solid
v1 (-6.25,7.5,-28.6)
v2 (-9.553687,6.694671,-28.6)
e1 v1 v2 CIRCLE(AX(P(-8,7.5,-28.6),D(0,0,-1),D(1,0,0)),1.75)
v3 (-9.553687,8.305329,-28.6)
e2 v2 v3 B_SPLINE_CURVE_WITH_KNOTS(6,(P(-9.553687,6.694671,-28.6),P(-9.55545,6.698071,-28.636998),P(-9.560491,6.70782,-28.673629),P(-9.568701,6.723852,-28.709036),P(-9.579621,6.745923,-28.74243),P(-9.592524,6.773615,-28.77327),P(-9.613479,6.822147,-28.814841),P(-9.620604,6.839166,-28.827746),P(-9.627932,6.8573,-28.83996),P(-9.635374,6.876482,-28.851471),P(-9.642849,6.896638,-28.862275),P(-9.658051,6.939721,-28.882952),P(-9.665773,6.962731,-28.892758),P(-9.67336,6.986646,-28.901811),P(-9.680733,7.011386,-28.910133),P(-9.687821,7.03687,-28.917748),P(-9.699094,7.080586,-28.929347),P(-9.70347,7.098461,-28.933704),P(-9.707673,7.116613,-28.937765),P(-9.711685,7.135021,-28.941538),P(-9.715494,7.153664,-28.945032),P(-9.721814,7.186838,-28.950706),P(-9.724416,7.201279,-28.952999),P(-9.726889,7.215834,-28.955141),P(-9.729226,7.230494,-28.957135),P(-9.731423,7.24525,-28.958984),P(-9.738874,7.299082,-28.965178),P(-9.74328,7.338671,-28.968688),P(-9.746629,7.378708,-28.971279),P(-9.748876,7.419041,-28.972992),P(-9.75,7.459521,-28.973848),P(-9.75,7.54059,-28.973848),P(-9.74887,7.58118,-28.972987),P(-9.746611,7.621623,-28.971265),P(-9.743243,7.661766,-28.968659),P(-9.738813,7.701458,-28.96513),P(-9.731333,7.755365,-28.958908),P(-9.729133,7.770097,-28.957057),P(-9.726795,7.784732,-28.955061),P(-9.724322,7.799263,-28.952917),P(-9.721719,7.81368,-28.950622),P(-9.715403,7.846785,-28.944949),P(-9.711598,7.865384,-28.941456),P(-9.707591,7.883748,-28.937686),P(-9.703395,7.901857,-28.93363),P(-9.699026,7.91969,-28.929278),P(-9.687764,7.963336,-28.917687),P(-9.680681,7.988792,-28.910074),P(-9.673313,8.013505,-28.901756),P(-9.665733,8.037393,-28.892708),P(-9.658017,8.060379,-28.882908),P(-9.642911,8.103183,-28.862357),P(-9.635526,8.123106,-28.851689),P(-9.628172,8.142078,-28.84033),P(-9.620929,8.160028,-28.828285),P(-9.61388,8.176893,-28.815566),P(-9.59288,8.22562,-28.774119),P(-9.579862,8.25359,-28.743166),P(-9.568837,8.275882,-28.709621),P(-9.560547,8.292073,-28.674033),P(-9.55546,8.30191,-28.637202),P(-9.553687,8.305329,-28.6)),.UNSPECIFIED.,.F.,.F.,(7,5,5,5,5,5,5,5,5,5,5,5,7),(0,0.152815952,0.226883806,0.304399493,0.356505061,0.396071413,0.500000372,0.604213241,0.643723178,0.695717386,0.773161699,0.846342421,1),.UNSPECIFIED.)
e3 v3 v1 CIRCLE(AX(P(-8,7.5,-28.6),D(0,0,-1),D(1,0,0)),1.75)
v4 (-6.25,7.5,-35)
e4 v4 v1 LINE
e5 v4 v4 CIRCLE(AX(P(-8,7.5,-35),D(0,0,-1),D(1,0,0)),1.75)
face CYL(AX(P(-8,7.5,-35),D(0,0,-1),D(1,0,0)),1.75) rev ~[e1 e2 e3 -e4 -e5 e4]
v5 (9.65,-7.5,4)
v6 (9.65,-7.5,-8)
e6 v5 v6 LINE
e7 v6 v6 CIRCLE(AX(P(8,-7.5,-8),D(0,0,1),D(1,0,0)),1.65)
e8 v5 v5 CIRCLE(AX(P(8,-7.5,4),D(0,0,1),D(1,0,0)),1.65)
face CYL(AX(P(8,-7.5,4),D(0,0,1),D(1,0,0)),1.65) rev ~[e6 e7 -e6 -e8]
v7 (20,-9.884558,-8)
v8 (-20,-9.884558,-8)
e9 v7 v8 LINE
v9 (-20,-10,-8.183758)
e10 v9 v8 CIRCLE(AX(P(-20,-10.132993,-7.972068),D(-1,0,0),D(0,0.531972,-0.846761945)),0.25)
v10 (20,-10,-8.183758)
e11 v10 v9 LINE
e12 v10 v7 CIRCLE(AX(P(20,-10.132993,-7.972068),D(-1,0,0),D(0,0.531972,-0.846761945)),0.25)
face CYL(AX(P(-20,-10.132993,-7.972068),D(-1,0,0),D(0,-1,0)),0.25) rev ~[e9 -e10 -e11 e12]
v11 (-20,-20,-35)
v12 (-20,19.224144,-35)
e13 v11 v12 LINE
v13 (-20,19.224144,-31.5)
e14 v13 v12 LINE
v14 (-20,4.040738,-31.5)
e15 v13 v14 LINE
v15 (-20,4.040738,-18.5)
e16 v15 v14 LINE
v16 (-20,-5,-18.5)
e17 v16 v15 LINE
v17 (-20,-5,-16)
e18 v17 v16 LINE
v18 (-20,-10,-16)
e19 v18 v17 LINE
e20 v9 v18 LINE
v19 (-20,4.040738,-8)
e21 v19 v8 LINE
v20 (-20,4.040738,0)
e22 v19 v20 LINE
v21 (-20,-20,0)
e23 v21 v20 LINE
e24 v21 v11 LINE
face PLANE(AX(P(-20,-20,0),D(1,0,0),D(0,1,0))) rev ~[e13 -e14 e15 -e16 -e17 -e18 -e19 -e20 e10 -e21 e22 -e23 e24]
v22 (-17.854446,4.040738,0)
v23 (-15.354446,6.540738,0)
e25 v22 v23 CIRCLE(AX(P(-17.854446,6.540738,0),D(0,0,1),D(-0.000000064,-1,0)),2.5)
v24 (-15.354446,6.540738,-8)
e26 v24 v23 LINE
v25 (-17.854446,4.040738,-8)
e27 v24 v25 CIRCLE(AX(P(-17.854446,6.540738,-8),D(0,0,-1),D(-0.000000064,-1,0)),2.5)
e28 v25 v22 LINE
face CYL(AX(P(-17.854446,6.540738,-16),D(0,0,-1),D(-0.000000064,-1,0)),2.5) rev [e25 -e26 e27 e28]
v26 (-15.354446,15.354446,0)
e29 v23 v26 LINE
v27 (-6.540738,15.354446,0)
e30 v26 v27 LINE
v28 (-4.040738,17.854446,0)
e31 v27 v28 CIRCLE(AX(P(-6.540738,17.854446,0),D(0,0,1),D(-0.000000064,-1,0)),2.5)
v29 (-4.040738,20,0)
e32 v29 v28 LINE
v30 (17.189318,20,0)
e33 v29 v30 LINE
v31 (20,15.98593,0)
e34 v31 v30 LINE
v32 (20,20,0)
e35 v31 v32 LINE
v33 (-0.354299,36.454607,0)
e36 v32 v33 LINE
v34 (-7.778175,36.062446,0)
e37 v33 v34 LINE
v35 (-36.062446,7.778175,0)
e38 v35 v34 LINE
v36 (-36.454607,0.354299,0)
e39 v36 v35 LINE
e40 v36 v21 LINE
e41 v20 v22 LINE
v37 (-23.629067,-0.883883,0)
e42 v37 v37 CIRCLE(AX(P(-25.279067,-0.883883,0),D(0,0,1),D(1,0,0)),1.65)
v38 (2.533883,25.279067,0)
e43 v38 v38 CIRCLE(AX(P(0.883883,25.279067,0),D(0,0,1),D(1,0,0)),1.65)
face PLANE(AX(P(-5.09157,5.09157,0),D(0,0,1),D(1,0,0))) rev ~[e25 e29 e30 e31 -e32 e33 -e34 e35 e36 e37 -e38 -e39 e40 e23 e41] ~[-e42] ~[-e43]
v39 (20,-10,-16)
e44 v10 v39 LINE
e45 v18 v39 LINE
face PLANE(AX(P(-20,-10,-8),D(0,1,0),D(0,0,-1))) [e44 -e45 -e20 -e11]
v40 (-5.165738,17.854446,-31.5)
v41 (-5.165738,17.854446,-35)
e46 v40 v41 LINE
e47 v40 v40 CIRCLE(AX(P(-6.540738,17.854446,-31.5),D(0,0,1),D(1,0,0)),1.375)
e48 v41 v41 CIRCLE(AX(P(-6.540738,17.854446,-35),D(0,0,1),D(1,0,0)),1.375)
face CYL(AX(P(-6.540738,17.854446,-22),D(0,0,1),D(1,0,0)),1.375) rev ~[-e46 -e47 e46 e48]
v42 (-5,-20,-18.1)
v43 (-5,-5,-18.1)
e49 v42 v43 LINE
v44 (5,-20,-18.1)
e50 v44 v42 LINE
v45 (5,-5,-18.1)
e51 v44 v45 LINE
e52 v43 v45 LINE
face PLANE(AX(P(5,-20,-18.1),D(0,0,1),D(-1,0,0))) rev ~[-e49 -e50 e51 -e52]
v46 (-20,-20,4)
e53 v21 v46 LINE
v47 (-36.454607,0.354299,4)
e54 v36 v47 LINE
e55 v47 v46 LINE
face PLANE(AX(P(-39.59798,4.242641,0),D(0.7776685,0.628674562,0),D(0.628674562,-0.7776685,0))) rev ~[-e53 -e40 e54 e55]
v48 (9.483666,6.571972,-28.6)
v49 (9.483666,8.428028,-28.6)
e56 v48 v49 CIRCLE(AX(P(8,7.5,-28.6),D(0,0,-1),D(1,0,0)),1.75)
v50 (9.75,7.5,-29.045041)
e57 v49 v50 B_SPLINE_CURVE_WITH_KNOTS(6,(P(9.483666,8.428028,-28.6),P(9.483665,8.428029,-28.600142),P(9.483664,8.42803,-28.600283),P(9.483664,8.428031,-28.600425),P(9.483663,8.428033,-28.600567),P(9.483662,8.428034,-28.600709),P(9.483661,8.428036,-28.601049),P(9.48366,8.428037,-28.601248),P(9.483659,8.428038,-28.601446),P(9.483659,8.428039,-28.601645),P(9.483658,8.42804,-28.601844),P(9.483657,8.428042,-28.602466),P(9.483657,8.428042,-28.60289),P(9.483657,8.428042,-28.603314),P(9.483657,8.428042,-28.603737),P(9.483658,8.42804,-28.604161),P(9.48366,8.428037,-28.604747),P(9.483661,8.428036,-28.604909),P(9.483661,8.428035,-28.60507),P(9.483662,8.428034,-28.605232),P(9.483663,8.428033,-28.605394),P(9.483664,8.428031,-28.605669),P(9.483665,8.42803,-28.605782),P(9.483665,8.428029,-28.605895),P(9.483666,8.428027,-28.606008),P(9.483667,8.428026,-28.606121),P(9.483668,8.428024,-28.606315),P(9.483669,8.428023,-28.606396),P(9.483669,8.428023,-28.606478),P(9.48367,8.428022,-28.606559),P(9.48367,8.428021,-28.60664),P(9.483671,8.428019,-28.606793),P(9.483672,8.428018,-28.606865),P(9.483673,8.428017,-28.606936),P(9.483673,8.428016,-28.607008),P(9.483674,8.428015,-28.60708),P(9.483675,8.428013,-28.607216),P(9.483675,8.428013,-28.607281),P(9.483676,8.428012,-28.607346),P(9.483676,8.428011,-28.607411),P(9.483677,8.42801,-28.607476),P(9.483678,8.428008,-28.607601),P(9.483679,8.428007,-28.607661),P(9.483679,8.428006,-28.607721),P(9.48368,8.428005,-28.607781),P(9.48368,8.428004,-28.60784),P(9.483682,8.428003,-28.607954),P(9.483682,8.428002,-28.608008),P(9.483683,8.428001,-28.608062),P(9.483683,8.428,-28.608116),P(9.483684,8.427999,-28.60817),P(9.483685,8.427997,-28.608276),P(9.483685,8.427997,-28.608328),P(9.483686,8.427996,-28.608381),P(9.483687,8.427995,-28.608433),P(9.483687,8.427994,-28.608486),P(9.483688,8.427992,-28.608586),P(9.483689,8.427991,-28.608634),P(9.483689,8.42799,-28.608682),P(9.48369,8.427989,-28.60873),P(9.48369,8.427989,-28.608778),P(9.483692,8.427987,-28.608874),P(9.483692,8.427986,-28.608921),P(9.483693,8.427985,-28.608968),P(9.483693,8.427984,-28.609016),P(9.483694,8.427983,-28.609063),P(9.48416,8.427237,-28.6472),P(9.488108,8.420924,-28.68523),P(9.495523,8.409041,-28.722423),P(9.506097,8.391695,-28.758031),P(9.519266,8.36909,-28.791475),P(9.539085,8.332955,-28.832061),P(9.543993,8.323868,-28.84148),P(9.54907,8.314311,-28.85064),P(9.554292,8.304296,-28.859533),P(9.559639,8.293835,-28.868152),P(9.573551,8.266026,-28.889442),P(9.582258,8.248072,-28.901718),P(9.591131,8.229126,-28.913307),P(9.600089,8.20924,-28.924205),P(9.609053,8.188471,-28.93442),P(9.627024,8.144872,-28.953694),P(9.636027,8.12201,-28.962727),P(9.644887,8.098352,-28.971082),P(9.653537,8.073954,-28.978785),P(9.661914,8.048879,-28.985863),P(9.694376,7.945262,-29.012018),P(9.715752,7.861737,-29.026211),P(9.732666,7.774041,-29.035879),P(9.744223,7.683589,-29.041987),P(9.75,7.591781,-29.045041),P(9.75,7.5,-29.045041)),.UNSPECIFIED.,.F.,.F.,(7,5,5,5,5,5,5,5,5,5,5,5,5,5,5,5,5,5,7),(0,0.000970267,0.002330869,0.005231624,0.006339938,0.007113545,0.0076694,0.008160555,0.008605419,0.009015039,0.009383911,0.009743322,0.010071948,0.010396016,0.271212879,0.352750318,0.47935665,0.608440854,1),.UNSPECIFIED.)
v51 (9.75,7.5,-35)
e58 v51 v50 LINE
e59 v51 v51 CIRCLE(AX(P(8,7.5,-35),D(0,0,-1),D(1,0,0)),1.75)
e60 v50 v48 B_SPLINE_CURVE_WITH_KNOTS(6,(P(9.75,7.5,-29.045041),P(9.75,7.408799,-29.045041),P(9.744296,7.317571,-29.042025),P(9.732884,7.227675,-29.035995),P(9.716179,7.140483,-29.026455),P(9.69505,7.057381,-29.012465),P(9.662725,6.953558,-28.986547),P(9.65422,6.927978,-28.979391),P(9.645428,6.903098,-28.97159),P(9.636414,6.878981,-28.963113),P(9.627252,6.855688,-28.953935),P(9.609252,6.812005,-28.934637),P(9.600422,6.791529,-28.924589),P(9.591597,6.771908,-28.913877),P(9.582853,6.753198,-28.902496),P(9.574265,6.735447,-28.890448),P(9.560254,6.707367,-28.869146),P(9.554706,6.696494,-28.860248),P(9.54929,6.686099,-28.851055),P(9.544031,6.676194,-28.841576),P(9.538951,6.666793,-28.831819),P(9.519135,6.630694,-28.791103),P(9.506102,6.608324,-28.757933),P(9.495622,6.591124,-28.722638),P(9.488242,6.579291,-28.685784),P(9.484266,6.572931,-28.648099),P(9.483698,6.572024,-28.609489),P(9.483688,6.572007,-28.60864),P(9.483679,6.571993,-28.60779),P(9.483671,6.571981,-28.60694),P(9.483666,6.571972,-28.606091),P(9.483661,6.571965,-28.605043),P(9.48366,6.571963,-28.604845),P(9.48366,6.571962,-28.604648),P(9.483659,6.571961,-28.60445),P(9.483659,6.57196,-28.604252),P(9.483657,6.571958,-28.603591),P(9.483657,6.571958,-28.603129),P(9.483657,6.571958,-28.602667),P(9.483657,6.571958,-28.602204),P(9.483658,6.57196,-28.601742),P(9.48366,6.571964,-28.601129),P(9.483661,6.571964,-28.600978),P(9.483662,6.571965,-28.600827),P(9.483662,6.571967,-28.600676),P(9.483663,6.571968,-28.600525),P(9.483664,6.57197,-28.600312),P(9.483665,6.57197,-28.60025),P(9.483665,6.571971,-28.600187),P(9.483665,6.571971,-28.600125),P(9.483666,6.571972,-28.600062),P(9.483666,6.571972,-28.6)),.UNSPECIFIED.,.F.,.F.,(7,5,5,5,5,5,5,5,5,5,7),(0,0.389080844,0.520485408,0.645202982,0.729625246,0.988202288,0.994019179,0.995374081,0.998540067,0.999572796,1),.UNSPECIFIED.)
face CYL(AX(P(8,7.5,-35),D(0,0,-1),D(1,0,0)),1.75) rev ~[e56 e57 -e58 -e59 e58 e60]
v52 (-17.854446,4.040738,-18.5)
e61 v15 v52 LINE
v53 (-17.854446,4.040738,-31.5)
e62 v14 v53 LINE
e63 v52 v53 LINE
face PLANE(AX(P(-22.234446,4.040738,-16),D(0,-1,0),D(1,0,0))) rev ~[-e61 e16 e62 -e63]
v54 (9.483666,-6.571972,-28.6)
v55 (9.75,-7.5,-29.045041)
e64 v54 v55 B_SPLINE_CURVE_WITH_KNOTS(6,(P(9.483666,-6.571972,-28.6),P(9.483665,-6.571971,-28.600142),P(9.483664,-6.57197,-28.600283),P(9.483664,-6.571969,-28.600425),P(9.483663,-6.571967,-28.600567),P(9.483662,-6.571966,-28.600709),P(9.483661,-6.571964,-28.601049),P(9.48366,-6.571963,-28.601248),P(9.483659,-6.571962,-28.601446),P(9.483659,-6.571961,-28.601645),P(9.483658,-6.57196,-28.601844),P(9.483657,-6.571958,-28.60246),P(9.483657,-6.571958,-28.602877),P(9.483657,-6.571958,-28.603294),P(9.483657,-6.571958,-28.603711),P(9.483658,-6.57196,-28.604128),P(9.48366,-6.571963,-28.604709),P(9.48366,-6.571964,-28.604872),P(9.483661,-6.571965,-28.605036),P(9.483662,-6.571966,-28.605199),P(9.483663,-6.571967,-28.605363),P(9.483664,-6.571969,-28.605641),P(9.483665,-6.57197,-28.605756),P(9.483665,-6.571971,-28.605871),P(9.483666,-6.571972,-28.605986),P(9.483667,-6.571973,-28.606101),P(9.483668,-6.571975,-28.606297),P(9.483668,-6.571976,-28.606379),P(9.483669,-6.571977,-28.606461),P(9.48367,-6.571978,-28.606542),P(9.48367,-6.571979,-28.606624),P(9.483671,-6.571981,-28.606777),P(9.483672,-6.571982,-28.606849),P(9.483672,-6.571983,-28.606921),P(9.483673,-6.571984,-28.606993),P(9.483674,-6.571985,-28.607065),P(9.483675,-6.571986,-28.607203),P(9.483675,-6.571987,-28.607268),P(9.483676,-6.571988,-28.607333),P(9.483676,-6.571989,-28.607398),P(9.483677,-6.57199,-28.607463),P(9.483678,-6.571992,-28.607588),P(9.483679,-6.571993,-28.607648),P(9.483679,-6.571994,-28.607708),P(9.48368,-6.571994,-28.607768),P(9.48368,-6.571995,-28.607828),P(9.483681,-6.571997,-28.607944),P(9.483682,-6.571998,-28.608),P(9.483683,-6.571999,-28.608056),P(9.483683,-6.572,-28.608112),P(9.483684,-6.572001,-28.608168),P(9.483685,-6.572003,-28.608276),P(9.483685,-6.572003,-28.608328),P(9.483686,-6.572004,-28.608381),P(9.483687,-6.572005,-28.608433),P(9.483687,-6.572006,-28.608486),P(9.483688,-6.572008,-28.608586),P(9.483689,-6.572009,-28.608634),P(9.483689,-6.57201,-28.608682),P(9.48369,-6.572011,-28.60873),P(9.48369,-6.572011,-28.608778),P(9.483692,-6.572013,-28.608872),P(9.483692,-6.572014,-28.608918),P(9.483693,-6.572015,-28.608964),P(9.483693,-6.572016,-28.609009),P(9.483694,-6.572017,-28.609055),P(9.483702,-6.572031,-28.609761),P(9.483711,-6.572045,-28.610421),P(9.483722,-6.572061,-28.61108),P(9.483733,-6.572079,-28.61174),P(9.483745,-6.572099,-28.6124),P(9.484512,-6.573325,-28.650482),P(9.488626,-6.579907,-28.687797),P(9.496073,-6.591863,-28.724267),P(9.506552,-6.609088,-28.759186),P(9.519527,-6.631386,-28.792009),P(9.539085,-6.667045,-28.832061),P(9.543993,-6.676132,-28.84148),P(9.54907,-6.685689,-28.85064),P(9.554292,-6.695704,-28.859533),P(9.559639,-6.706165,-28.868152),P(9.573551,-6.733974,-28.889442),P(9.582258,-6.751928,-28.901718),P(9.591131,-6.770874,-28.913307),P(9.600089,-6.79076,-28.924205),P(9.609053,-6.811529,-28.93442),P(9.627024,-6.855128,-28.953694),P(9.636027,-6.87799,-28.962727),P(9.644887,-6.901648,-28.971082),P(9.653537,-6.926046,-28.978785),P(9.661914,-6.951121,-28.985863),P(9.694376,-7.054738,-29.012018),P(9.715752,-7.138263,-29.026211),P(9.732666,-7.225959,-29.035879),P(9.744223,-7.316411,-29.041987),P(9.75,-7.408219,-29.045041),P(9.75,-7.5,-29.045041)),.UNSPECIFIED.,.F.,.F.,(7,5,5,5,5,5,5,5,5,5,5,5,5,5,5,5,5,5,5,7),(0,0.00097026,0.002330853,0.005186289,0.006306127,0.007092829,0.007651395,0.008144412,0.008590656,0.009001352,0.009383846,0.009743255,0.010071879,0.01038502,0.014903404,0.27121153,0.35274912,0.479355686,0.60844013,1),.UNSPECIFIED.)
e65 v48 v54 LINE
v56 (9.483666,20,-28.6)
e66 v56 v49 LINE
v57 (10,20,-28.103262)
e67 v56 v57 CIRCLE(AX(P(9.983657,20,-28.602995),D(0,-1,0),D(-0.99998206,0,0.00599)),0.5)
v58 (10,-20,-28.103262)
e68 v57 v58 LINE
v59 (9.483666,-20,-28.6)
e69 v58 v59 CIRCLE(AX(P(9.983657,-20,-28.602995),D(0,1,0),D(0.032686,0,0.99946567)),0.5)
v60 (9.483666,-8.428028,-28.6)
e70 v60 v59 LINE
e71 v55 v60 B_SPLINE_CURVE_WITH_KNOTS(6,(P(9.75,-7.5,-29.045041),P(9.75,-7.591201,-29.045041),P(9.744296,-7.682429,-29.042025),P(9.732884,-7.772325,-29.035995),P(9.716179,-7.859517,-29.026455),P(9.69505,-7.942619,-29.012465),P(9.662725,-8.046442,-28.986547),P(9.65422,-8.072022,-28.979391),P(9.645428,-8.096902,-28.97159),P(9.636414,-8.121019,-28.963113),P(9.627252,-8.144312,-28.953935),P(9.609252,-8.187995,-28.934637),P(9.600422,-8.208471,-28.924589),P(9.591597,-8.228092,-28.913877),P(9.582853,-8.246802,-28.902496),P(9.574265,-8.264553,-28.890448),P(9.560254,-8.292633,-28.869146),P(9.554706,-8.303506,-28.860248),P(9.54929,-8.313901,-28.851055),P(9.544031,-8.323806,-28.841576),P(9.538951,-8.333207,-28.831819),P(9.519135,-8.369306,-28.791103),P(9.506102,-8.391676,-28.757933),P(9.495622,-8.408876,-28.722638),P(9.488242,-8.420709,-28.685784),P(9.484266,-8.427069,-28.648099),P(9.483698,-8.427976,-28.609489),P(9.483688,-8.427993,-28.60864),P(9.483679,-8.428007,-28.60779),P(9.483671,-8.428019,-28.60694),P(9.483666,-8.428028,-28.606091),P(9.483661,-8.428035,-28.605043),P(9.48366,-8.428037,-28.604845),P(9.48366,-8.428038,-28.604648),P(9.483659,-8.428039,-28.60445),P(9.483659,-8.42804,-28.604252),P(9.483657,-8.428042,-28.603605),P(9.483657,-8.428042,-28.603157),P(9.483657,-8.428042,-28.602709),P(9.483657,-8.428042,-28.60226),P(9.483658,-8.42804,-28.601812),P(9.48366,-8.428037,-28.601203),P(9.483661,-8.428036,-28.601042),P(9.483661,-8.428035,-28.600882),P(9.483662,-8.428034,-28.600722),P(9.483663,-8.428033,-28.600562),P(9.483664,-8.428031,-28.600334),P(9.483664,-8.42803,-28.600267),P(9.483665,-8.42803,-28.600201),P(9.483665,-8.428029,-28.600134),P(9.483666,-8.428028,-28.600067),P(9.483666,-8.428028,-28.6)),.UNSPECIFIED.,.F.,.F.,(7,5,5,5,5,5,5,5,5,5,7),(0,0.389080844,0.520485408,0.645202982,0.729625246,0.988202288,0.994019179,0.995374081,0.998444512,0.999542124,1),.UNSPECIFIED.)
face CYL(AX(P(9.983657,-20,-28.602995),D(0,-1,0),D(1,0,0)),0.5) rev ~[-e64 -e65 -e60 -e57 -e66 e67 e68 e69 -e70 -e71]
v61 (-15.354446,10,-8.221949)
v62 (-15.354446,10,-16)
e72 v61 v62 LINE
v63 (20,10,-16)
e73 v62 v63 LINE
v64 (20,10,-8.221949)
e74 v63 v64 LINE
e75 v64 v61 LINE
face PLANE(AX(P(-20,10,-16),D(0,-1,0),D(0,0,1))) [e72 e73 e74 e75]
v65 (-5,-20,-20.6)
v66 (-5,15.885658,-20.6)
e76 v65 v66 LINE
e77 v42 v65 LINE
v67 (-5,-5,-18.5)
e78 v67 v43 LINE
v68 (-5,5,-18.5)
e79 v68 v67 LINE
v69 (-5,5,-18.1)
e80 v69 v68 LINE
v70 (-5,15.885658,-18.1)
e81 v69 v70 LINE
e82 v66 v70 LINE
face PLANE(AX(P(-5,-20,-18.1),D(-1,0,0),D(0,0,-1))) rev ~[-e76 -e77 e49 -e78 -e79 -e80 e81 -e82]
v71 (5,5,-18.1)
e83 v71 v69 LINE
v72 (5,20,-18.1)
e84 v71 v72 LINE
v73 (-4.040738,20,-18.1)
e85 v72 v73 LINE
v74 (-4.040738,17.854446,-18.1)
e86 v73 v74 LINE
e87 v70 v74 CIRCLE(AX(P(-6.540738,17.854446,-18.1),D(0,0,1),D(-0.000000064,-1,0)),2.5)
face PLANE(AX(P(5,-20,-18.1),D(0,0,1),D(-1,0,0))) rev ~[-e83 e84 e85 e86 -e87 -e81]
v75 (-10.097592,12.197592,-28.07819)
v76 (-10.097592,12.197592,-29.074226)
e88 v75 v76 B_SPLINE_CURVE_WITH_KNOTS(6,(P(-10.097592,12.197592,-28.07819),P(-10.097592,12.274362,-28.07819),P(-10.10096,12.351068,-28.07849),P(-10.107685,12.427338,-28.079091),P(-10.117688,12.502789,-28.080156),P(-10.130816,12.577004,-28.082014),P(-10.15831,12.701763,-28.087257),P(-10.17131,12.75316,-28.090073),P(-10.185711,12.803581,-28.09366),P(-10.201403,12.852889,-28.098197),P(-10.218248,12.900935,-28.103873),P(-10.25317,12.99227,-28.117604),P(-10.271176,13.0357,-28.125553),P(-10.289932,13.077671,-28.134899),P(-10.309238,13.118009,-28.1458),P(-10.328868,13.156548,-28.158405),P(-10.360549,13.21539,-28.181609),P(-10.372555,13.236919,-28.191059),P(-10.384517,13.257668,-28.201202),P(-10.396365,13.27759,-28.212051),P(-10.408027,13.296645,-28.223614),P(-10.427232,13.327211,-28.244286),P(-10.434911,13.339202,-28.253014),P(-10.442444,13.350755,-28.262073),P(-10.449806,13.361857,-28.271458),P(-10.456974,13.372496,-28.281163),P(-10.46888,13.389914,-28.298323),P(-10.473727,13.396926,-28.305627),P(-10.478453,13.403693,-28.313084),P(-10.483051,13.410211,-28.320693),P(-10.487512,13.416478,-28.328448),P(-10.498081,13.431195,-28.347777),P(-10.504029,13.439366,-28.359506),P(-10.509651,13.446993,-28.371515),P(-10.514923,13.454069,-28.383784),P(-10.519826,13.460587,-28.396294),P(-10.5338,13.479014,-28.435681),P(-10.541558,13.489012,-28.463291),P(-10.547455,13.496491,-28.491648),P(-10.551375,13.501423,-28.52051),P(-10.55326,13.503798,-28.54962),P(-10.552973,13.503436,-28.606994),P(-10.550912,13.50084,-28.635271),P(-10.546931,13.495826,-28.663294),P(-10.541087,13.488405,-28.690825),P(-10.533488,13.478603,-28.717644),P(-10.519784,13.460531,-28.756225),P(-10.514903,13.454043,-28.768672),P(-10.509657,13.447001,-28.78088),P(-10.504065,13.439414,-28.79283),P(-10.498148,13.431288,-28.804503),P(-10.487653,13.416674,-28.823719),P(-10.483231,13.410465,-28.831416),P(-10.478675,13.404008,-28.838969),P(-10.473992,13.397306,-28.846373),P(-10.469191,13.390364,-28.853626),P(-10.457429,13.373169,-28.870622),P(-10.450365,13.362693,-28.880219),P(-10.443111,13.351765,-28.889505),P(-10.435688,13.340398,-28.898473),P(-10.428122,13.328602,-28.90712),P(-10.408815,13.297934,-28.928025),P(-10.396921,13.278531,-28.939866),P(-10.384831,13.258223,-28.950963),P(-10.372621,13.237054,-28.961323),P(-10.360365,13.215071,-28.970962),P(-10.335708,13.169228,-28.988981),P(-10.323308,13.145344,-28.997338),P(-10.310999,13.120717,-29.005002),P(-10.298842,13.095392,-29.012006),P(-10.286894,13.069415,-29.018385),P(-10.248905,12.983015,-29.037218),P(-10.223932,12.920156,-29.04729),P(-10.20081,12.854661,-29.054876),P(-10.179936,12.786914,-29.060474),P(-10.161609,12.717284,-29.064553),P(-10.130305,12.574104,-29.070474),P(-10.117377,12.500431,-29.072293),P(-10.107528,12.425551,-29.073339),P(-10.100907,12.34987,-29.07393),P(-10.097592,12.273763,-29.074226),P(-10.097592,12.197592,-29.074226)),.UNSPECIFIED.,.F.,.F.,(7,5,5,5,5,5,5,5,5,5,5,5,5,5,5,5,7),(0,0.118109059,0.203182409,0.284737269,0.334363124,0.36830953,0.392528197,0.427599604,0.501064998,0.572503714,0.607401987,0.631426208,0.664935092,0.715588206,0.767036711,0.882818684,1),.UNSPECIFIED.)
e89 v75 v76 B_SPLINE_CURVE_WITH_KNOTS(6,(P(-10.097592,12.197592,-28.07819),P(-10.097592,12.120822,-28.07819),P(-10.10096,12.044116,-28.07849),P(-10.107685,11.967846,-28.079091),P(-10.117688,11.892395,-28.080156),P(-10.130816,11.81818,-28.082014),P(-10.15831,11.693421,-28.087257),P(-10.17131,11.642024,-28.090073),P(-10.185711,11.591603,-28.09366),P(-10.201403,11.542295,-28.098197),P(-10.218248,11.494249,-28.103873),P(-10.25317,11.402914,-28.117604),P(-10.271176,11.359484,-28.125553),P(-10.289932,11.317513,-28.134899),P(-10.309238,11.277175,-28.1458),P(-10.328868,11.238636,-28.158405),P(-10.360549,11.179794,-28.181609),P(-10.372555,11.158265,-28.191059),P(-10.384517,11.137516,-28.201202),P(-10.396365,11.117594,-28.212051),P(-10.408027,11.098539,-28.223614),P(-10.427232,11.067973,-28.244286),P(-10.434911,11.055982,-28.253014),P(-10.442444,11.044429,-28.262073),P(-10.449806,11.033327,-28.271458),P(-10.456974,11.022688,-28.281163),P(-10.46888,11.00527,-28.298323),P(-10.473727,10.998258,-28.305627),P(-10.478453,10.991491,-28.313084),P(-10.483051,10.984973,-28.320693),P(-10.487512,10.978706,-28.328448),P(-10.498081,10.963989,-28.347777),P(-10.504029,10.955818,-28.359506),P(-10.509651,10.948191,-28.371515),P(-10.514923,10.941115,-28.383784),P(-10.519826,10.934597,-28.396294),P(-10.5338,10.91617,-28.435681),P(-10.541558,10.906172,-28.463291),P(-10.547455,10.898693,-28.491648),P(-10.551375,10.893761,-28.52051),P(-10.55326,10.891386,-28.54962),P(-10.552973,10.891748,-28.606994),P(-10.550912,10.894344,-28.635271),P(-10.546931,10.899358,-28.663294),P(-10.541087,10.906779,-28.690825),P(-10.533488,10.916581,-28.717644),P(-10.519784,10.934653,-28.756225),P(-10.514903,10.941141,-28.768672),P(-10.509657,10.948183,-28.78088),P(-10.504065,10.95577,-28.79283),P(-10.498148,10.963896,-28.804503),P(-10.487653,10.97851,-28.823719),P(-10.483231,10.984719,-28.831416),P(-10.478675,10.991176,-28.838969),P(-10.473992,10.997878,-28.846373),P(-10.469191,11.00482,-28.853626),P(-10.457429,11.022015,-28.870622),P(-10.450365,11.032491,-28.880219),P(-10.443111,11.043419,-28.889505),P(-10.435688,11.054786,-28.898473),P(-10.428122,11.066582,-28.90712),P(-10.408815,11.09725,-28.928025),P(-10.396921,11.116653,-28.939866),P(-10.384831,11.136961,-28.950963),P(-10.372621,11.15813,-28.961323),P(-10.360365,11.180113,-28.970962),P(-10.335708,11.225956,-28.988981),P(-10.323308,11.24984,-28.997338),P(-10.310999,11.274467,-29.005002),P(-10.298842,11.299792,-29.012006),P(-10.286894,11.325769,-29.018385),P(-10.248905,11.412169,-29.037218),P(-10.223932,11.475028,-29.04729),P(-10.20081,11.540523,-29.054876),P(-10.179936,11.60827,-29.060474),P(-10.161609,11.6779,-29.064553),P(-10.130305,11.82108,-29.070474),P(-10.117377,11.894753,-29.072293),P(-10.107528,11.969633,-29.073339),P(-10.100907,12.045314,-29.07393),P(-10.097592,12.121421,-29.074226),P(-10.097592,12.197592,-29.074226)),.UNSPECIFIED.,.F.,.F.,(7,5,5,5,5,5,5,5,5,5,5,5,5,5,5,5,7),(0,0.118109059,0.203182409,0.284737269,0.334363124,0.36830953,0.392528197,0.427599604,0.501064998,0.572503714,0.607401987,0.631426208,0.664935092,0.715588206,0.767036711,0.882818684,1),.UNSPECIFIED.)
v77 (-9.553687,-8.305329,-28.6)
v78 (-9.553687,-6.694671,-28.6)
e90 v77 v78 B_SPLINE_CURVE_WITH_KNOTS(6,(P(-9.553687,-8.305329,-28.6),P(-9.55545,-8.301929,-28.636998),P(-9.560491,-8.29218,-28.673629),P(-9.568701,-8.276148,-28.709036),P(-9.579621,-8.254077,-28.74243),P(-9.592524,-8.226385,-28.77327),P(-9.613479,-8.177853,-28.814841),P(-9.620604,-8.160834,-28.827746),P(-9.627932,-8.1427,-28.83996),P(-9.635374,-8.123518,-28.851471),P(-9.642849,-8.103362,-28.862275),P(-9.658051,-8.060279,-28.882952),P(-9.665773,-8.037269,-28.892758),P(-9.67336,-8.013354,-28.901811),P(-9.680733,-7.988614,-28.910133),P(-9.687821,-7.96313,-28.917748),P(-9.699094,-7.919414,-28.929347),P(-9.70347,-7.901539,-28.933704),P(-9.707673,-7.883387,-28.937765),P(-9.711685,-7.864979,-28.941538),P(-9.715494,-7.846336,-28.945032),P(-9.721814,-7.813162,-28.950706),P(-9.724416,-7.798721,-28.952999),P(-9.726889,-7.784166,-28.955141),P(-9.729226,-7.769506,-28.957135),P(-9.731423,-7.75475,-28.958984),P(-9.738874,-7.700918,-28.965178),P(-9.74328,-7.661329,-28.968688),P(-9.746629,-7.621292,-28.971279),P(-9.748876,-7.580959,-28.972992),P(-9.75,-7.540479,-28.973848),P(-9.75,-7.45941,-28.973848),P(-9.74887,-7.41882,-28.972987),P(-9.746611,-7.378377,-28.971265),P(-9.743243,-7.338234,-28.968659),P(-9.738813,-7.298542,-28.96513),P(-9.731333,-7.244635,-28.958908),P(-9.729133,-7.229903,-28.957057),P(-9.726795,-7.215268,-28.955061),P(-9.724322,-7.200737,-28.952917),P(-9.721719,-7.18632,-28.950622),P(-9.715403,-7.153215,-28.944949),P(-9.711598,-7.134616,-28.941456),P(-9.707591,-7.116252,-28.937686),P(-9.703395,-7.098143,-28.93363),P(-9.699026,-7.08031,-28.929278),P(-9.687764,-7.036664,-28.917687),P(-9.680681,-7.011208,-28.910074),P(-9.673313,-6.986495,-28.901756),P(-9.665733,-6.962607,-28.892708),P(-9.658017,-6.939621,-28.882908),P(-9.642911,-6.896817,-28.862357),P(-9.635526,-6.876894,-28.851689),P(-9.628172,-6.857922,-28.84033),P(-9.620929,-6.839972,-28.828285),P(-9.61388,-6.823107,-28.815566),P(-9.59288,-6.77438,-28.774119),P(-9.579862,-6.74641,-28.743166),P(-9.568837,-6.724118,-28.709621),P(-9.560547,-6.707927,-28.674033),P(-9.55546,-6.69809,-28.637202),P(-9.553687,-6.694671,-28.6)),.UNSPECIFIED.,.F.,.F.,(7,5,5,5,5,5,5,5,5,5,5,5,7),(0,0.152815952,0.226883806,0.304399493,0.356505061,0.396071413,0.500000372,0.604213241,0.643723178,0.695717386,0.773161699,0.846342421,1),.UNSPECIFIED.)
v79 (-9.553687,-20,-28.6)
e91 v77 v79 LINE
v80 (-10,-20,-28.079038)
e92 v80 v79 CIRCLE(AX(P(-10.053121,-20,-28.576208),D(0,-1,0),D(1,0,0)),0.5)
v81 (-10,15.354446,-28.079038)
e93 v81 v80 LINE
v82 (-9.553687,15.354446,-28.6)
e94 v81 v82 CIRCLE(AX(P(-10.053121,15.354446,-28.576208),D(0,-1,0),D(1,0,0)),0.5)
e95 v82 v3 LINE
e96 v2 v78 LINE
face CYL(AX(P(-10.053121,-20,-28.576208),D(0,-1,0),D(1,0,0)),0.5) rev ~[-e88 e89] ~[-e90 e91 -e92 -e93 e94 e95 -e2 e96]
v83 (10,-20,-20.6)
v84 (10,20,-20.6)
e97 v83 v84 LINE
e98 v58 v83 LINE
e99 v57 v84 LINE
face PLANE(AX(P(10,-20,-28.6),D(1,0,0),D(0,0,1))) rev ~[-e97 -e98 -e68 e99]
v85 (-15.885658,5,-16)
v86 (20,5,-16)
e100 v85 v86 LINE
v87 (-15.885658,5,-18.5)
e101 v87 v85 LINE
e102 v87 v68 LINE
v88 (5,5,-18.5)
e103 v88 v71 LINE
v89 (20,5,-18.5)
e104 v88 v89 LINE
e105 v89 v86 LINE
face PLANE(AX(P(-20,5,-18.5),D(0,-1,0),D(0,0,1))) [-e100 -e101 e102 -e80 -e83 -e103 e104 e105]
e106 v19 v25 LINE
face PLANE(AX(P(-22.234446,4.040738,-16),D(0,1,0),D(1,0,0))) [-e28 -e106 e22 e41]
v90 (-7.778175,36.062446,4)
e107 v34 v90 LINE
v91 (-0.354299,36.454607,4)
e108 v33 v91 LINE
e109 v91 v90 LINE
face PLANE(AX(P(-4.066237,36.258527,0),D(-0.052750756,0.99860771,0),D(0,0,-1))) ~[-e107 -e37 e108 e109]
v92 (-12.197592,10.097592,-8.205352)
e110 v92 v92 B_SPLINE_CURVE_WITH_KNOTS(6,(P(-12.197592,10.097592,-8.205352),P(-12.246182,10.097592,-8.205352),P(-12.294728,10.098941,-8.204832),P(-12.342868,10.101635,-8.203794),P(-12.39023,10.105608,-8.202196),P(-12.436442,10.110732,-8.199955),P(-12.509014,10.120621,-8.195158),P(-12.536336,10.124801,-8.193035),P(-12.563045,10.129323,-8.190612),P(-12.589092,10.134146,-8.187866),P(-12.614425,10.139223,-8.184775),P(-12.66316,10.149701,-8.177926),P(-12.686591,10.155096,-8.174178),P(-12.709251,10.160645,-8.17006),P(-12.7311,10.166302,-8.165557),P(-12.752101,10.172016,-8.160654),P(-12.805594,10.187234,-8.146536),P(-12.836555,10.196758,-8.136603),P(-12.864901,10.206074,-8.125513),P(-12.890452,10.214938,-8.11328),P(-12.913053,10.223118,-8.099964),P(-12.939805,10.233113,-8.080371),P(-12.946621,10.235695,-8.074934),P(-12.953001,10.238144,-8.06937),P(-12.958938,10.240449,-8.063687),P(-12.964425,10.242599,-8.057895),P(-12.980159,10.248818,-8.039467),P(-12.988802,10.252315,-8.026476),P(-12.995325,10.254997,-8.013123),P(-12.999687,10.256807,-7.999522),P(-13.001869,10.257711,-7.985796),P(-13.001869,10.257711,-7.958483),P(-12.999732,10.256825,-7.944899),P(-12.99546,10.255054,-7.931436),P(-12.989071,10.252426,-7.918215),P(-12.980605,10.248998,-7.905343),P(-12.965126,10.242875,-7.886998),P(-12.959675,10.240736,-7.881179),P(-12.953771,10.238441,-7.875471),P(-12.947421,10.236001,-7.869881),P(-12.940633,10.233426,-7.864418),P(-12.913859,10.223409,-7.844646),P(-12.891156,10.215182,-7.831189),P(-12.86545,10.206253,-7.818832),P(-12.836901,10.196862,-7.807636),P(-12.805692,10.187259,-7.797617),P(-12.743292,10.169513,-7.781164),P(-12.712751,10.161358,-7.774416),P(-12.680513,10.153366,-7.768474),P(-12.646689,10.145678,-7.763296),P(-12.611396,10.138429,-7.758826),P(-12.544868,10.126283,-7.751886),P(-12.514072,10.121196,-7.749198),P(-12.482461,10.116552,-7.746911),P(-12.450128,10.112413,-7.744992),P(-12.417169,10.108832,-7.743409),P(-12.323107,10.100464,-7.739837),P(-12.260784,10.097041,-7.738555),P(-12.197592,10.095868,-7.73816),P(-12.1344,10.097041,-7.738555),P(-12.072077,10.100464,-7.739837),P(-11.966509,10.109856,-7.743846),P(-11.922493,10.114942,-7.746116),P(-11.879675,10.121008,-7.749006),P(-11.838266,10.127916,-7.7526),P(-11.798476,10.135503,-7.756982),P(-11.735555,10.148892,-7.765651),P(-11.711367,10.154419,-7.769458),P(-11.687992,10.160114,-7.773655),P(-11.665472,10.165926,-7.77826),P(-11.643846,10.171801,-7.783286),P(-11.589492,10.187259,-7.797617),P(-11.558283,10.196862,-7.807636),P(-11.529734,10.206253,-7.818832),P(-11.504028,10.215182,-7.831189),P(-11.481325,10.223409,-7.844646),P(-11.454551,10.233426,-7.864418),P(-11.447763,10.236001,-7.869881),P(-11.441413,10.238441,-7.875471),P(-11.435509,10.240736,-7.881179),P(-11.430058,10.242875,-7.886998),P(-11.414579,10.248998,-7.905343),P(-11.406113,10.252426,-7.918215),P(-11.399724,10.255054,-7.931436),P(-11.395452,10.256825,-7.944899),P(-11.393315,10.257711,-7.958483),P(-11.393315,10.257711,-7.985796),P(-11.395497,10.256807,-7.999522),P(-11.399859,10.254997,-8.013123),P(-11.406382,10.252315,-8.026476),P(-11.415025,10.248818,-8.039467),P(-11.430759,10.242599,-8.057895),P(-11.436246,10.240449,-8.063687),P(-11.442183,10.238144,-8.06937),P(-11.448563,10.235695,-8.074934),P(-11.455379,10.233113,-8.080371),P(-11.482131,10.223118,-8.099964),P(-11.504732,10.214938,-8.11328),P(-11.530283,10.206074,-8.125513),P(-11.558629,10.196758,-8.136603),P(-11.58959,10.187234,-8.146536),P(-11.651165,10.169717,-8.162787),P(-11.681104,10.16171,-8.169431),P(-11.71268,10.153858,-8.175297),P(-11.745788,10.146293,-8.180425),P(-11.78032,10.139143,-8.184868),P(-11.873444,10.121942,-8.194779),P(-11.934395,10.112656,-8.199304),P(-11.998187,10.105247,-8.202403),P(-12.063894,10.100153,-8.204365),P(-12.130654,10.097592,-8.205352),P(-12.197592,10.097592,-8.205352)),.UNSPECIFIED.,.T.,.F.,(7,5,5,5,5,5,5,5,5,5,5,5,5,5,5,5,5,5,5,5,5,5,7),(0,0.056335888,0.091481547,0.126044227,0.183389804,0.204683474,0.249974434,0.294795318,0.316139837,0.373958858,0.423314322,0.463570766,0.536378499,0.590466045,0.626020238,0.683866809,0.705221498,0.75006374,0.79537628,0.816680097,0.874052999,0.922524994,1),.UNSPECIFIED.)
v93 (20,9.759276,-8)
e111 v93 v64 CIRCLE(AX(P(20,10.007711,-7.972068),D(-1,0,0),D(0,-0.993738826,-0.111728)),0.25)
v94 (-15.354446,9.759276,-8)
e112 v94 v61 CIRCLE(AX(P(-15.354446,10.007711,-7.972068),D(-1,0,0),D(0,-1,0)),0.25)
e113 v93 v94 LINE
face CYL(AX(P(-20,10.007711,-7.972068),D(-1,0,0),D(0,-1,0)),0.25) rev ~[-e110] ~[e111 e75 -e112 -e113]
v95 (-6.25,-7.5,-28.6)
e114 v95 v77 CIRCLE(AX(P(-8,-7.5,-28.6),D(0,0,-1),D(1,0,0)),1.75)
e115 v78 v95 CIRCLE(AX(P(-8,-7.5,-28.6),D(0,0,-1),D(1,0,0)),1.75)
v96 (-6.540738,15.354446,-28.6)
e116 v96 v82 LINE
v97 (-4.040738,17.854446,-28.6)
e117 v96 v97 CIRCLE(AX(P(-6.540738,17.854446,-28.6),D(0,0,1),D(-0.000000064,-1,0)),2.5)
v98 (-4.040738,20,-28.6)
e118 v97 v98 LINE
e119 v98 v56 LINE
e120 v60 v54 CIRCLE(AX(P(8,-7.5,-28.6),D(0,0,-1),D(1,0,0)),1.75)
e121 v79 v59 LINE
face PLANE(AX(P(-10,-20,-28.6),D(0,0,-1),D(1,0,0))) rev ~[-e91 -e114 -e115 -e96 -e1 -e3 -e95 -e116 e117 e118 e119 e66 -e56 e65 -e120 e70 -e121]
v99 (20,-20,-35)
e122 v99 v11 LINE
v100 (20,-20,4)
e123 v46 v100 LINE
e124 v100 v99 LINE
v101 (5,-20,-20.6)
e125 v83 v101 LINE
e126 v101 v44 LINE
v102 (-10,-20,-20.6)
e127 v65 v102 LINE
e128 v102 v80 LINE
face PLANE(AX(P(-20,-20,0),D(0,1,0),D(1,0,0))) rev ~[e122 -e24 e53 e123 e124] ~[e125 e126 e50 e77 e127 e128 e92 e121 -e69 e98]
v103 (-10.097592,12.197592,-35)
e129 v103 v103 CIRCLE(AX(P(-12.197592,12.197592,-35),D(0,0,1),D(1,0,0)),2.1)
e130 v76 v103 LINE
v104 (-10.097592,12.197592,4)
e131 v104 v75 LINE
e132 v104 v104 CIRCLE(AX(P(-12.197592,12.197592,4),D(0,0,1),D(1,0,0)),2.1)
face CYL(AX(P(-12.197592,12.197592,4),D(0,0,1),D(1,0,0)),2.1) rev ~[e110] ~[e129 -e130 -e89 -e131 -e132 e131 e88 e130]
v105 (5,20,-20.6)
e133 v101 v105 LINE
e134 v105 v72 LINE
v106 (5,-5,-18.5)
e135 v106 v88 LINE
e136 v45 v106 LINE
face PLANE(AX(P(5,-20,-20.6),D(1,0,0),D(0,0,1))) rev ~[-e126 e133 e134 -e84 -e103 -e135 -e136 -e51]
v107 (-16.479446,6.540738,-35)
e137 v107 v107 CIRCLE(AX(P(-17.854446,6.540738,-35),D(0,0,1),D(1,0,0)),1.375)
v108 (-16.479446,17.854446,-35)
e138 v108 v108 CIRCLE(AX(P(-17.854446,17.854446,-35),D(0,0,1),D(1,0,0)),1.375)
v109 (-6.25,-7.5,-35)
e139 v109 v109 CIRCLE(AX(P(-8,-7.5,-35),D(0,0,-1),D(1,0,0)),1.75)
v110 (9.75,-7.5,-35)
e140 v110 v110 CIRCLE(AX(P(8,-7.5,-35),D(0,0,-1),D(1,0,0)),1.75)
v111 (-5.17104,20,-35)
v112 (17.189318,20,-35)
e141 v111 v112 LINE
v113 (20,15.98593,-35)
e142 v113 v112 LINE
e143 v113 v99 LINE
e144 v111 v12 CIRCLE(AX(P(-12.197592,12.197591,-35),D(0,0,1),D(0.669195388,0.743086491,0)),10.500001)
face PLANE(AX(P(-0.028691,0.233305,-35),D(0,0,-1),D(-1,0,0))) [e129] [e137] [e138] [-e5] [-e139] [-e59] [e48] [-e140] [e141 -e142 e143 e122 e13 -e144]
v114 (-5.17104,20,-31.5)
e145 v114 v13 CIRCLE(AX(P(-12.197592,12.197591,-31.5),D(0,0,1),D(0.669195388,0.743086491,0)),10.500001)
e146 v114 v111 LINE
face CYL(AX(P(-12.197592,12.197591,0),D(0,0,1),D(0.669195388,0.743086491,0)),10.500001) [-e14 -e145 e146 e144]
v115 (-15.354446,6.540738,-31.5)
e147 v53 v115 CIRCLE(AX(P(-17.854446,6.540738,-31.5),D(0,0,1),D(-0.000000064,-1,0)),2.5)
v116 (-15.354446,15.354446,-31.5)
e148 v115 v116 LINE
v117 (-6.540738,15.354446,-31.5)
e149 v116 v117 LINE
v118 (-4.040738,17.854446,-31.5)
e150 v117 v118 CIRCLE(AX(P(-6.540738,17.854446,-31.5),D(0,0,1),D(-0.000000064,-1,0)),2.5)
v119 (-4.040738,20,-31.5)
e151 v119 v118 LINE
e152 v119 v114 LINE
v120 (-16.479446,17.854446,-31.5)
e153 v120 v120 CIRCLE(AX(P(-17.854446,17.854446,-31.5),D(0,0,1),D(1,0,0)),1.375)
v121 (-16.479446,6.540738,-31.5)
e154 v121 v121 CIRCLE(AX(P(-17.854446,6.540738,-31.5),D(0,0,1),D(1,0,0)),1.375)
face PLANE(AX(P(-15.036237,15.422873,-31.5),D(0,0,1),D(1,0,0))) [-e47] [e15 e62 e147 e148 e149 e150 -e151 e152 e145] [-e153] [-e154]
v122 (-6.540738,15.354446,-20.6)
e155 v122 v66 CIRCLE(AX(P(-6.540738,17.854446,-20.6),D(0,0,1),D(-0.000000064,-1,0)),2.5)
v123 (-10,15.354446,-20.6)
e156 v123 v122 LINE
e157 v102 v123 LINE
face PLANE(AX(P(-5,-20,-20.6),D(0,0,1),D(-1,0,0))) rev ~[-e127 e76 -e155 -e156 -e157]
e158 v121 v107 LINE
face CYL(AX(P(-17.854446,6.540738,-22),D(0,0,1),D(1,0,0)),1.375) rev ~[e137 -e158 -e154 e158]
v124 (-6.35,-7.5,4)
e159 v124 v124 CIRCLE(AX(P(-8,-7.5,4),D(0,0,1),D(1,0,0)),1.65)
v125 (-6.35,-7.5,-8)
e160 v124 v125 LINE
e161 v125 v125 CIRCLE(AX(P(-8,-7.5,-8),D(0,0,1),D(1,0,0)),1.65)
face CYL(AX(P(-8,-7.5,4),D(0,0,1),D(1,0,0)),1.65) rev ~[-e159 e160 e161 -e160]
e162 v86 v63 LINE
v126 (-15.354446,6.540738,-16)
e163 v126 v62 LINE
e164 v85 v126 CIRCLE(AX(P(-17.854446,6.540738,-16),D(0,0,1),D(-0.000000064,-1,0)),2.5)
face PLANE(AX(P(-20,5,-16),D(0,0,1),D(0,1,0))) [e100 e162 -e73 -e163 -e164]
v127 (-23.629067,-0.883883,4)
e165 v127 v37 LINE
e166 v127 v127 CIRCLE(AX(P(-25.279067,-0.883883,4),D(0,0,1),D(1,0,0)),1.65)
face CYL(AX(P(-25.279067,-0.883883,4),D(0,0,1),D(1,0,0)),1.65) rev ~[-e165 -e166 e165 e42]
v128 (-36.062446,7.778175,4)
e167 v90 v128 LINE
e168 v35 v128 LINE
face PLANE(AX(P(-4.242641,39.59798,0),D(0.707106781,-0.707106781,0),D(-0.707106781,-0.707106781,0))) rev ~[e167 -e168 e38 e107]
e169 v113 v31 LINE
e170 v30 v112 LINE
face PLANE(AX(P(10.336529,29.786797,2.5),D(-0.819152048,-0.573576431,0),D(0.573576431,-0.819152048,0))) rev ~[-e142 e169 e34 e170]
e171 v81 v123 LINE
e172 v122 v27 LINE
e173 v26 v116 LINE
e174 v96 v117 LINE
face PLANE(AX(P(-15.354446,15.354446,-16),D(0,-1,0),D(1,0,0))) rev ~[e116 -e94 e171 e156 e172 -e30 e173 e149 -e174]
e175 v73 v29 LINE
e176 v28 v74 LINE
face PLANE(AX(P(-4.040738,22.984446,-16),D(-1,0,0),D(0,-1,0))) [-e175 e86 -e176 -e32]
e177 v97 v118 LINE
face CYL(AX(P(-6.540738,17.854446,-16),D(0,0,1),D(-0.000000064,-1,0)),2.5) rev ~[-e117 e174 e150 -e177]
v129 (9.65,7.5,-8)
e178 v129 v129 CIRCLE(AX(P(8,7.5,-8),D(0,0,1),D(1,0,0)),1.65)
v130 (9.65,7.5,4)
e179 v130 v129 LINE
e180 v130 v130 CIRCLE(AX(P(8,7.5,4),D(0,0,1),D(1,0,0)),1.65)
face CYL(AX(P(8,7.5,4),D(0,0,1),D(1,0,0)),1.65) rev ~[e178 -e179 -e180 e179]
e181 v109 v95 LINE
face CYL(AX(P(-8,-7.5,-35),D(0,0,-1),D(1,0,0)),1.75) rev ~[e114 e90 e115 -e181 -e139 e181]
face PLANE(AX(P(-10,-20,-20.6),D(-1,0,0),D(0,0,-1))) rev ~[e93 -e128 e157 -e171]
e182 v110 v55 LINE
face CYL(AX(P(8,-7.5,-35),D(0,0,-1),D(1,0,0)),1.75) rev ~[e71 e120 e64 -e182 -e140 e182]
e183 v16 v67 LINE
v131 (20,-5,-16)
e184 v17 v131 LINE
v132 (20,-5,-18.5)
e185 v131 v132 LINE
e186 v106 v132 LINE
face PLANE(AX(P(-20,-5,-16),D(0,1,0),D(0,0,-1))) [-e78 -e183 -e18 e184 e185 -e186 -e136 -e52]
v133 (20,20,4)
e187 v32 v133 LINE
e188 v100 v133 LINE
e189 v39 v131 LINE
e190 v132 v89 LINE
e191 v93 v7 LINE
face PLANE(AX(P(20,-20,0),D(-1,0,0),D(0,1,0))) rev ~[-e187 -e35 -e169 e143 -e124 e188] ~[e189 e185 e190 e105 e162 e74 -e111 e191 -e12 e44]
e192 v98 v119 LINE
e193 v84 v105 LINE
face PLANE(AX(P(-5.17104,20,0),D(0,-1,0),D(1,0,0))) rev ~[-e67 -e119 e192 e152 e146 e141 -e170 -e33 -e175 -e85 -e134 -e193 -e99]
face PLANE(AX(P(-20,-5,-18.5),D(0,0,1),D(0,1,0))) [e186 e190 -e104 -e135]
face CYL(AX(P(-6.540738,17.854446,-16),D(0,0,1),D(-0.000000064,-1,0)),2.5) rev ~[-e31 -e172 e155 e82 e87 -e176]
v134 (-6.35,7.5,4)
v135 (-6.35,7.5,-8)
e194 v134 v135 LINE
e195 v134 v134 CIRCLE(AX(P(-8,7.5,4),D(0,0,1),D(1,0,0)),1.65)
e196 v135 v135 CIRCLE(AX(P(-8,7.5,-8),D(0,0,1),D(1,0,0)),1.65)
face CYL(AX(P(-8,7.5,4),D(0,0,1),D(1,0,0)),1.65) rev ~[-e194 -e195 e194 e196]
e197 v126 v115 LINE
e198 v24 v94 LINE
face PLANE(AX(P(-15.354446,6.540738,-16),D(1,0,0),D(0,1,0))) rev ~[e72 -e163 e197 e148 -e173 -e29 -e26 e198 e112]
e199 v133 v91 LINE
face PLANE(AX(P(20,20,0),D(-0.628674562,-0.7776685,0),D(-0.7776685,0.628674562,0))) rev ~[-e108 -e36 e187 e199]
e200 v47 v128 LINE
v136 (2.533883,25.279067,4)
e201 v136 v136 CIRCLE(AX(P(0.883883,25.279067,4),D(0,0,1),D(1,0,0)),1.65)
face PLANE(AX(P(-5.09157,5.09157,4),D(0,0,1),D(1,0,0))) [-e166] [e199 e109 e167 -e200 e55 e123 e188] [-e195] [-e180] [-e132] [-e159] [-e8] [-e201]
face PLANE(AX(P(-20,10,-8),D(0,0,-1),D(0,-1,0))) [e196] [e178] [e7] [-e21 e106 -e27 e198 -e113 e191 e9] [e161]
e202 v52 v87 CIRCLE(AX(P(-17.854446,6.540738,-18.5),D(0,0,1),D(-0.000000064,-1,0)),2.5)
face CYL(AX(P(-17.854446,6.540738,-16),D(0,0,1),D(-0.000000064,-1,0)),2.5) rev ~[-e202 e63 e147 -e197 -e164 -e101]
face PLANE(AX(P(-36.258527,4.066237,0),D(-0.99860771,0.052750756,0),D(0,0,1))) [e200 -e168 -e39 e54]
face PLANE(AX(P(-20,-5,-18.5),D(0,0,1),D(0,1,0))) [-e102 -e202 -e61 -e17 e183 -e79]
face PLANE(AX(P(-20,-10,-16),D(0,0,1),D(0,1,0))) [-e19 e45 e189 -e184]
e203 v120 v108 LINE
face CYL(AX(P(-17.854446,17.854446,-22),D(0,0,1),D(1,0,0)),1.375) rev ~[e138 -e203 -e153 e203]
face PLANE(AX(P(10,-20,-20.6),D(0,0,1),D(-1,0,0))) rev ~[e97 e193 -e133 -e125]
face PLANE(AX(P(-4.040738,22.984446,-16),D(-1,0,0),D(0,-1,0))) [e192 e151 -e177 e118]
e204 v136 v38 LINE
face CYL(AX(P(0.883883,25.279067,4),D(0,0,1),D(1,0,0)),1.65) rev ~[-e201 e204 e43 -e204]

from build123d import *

# Parameters (mm, degrees)
PAD_DEPTH            = 35
POCKET_DEPTH         = 40.001
POCKET001_DEPTH      = 42.698592
SKETCH021_W          = 20
SKETCH021_H          = 20
POCKET002_DEPTH      = 3
POCKET002_DEPTH_BACK = -2
SKETCH016_R          = 0.5
POCKET003_DEPTH      = 42.698592
SKETCH015_R          = 0.25
POCKET004_DEPTH      = 40.001
POCKET005_DEPTH      = 37.501
PAD001_DEPTH         = 4
SKETCH024_R          = 1.65
POCKET006_DEPTH      = 39.001
SKETCH008_R          = 2.1
POCKET007_DEPTH      = 39.001
SKETCH003_R          = 1.65
POCKET008_DEPTH      = 16
SKETCH004_R          = 1.75
POCKET009_DEPTH      = 13
POCKET010_DEPTH      = 15.5
POCKET010_DEPTH_BACK = -16
SKETCH017_R          = 1.375
POCKET011_DEPTH      = 13.001
CHAMFER_SIZE         = 5


with BuildPart() as part:
    # Sketch → Pad (new body)
    with BuildSketch(Plane.XY):
        with BuildLine():
            Line((20, 20), (20, -20))
            Line((20, -20), (-20, -20))
            Line((-20, -20), (-20, 19.224144))
            ThreePointArc((-5.17104, 20), (-12.746205, 22.68325), (-20, 19.224144))
            Line((-5.17104, 20), (20, 20))
        make_face()
    extrude(amount=-PAD_DEPTH)

    # Sketch001 (on Face3 of Pad) → Pocket (cut, through all)
    with BuildSketch(Plane(origin=(-20, 0, 0), x_dir=(0, -1, 0), z_dir=(-1, 0, 0))):
        Polygon((-10, -8), (10, -8), (10, -16), (5, -16), (5, -18.5), (-5, -18.5), (-5, -16), (-10, -16), align=None)
    extrude(amount=-POCKET_DEPTH, mode=Mode.SUBTRACT)

    # Sketch019 (on Face5 of Pocket) → Pocket001 (cut, through all)
    with BuildSketch(Plane.XZ.offset(20)):
        Polygon((-10, -20.6), (-10, -28.6), (10, -28.6), (10, -20.6), (5, -20.6), (5, -18.1), (-5, -18.1), (-5, -20.6), align=None)
    extrude(amount=-POCKET001_DEPTH, mode=Mode.SUBTRACT)

    # Sketch021 → Pocket002 (cut, two sides)
    with BuildSketch(Plane.XY.offset(-12)) as pocket002_sk:
        Rectangle(SKETCH021_W, SKETCH021_H)
    extrude(amount=-POCKET002_DEPTH, mode=Mode.SUBTRACT)
    extrude(pocket002_sk.sketch, amount=-POCKET002_DEPTH_BACK, mode=Mode.SUBTRACT)

    # Sketch016 (on Face5 of Pocket002) → Pocket003 (cut, through all)
    with BuildSketch(Plane.XZ.offset(20)):
        with Locations((9.983657, -28.602995)):
            Circle(SKETCH016_R)
        with Locations((-10.053121, -28.576208)):
            Circle(SKETCH016_R)
    extrude(amount=-POCKET003_DEPTH, mode=Mode.SUBTRACT)

    # Sketch015 (on Face24 of Pocket003) → Pocket004 (cut, through all)
    with BuildSketch(Plane(origin=(-20, 0, 0), x_dir=(0, -1, 0), z_dir=(-1, 0, 0))):
        with Locations((-10.007711, -7.972068)):
            Circle(SKETCH015_R)
        with Locations((10.132993, -7.972068)):
            Circle(SKETCH015_R)
    extrude(amount=-POCKET004_DEPTH, mode=Mode.SUBTRACT)

    # Sketch025 → Pocket005 (cut, through all)
    with BuildSketch(Plane.XY.offset(2.5)):
        Polygon((10.336529, 29.786797), (28.676373, 3.594785), (36.756538, 10.988299), (24.594908, 30.303831), align=None)
    extrude(amount=-POCKET005_DEPTH, mode=Mode.SUBTRACT)

    # Sketch007 → Pad001 (join)
    with BuildSketch(Plane.XY):
        Polygon((20, -20), (20, 20), (-4.242641, 39.59798), (-39.59798, 4.242641), (-20, -20), align=None)
    extrude(amount=PAD001_DEPTH)

    # Sketch024 → Pocket006 (cut, through all)
    with BuildSketch(Plane.XY.offset(4)):
        with Locations((0.883883, 25.279067)):
            Circle(SKETCH024_R)
        with Locations((-25.279067, -0.883883)):
            Circle(SKETCH024_R)
    extrude(amount=-POCKET006_DEPTH, mode=Mode.SUBTRACT)

    # Sketch008 → Pocket007 (cut, through all)
    with BuildSketch(Plane.XY.offset(4)):
        with Locations((-12.197592, 12.197592)):
            Circle(SKETCH008_R)
    extrude(amount=-POCKET007_DEPTH, mode=Mode.SUBTRACT)

    # Sketch003 → Pocket008 (cut)
    with BuildSketch(Plane.XY.offset(4)):
        with Locations((-8, 7.5)):
            Circle(SKETCH003_R)
        with Locations((8, 7.5)):
            Circle(SKETCH003_R)
        with Locations((-8, -7.5)):
            Circle(SKETCH003_R)
        with Locations((8, -7.5)):
            Circle(SKETCH003_R)
    extrude(amount=-POCKET008_DEPTH, mode=Mode.SUBTRACT)

    # Sketch004 (on Face4 of Pocket008) → Pocket009 (cut)
    with BuildSketch(Plane(origin=(0, 0, -35), x_dir=(1, 0, 0), z_dir=(0, 0, -1))):
        with Locations((-8, 7.5)):
            Circle(SKETCH004_R)
        with Locations((8, 7.5)):
            Circle(SKETCH004_R)
        with Locations((-8, -7.5)):
            Circle(SKETCH004_R)
        with Locations((8, -7.5)):
            Circle(SKETCH004_R)
    extrude(amount=-POCKET009_DEPTH, mode=Mode.SUBTRACT)

    # Sketch022 (on Face6 of Pocket009) → Pocket010 (cut, two sides)
    with BuildSketch(Plane.XY.offset(-16)) as pocket010_sk:
        with BuildLine():
            ThreePointArc((-17.854446, 4.040738), (-16.086679, 4.772971), (-15.354446, 6.540738))
            Line((-15.354446, 6.540738), (-15.354446, 15.354446))
            Line((-15.354446, 15.354446), (-6.540738, 15.354446))
            ThreePointArc((-6.540738, 15.354446), (-4.772971, 16.086679), (-4.040738, 17.854446))
            Line((-4.040738, 22.984446), (-4.040738, 17.854446))
            Line((-22.234446, 22.984446), (-4.040738, 22.984446))
            Line((-22.234446, 4.040738), (-22.234446, 22.984446))
            Line((-22.234446, 4.040738), (-17.854446, 4.040738))
        make_face()
    extrude(amount=-POCKET010_DEPTH, mode=Mode.SUBTRACT)
    extrude(pocket010_sk.sketch, amount=-POCKET010_DEPTH_BACK, mode=Mode.SUBTRACT)

    # Sketch017 → Pocket011 (cut, through all)
    with BuildSketch(Plane.XY.offset(-22)):
        with Locations((-6.540738, 17.854446)):
            Circle(SKETCH017_R)
        with Locations((-17.854446, 6.540738)):
            Circle(SKETCH017_R)
        with Locations((-17.854446, 17.854446)):
            Circle(SKETCH017_R)
    extrude(amount=-POCKET011_DEPTH, mode=Mode.SUBTRACT)

    # Chamfer
    chamfer_edges = [part.edges().sort_by_distance(p)[0] for p in [
        (-4.242641, 39.59798, 2),
        (-39.59798, 4.242641, 2),
    ]]
    chamfer(chamfer_edges, length=CHAMFER_SIZE)


solid = part.part
